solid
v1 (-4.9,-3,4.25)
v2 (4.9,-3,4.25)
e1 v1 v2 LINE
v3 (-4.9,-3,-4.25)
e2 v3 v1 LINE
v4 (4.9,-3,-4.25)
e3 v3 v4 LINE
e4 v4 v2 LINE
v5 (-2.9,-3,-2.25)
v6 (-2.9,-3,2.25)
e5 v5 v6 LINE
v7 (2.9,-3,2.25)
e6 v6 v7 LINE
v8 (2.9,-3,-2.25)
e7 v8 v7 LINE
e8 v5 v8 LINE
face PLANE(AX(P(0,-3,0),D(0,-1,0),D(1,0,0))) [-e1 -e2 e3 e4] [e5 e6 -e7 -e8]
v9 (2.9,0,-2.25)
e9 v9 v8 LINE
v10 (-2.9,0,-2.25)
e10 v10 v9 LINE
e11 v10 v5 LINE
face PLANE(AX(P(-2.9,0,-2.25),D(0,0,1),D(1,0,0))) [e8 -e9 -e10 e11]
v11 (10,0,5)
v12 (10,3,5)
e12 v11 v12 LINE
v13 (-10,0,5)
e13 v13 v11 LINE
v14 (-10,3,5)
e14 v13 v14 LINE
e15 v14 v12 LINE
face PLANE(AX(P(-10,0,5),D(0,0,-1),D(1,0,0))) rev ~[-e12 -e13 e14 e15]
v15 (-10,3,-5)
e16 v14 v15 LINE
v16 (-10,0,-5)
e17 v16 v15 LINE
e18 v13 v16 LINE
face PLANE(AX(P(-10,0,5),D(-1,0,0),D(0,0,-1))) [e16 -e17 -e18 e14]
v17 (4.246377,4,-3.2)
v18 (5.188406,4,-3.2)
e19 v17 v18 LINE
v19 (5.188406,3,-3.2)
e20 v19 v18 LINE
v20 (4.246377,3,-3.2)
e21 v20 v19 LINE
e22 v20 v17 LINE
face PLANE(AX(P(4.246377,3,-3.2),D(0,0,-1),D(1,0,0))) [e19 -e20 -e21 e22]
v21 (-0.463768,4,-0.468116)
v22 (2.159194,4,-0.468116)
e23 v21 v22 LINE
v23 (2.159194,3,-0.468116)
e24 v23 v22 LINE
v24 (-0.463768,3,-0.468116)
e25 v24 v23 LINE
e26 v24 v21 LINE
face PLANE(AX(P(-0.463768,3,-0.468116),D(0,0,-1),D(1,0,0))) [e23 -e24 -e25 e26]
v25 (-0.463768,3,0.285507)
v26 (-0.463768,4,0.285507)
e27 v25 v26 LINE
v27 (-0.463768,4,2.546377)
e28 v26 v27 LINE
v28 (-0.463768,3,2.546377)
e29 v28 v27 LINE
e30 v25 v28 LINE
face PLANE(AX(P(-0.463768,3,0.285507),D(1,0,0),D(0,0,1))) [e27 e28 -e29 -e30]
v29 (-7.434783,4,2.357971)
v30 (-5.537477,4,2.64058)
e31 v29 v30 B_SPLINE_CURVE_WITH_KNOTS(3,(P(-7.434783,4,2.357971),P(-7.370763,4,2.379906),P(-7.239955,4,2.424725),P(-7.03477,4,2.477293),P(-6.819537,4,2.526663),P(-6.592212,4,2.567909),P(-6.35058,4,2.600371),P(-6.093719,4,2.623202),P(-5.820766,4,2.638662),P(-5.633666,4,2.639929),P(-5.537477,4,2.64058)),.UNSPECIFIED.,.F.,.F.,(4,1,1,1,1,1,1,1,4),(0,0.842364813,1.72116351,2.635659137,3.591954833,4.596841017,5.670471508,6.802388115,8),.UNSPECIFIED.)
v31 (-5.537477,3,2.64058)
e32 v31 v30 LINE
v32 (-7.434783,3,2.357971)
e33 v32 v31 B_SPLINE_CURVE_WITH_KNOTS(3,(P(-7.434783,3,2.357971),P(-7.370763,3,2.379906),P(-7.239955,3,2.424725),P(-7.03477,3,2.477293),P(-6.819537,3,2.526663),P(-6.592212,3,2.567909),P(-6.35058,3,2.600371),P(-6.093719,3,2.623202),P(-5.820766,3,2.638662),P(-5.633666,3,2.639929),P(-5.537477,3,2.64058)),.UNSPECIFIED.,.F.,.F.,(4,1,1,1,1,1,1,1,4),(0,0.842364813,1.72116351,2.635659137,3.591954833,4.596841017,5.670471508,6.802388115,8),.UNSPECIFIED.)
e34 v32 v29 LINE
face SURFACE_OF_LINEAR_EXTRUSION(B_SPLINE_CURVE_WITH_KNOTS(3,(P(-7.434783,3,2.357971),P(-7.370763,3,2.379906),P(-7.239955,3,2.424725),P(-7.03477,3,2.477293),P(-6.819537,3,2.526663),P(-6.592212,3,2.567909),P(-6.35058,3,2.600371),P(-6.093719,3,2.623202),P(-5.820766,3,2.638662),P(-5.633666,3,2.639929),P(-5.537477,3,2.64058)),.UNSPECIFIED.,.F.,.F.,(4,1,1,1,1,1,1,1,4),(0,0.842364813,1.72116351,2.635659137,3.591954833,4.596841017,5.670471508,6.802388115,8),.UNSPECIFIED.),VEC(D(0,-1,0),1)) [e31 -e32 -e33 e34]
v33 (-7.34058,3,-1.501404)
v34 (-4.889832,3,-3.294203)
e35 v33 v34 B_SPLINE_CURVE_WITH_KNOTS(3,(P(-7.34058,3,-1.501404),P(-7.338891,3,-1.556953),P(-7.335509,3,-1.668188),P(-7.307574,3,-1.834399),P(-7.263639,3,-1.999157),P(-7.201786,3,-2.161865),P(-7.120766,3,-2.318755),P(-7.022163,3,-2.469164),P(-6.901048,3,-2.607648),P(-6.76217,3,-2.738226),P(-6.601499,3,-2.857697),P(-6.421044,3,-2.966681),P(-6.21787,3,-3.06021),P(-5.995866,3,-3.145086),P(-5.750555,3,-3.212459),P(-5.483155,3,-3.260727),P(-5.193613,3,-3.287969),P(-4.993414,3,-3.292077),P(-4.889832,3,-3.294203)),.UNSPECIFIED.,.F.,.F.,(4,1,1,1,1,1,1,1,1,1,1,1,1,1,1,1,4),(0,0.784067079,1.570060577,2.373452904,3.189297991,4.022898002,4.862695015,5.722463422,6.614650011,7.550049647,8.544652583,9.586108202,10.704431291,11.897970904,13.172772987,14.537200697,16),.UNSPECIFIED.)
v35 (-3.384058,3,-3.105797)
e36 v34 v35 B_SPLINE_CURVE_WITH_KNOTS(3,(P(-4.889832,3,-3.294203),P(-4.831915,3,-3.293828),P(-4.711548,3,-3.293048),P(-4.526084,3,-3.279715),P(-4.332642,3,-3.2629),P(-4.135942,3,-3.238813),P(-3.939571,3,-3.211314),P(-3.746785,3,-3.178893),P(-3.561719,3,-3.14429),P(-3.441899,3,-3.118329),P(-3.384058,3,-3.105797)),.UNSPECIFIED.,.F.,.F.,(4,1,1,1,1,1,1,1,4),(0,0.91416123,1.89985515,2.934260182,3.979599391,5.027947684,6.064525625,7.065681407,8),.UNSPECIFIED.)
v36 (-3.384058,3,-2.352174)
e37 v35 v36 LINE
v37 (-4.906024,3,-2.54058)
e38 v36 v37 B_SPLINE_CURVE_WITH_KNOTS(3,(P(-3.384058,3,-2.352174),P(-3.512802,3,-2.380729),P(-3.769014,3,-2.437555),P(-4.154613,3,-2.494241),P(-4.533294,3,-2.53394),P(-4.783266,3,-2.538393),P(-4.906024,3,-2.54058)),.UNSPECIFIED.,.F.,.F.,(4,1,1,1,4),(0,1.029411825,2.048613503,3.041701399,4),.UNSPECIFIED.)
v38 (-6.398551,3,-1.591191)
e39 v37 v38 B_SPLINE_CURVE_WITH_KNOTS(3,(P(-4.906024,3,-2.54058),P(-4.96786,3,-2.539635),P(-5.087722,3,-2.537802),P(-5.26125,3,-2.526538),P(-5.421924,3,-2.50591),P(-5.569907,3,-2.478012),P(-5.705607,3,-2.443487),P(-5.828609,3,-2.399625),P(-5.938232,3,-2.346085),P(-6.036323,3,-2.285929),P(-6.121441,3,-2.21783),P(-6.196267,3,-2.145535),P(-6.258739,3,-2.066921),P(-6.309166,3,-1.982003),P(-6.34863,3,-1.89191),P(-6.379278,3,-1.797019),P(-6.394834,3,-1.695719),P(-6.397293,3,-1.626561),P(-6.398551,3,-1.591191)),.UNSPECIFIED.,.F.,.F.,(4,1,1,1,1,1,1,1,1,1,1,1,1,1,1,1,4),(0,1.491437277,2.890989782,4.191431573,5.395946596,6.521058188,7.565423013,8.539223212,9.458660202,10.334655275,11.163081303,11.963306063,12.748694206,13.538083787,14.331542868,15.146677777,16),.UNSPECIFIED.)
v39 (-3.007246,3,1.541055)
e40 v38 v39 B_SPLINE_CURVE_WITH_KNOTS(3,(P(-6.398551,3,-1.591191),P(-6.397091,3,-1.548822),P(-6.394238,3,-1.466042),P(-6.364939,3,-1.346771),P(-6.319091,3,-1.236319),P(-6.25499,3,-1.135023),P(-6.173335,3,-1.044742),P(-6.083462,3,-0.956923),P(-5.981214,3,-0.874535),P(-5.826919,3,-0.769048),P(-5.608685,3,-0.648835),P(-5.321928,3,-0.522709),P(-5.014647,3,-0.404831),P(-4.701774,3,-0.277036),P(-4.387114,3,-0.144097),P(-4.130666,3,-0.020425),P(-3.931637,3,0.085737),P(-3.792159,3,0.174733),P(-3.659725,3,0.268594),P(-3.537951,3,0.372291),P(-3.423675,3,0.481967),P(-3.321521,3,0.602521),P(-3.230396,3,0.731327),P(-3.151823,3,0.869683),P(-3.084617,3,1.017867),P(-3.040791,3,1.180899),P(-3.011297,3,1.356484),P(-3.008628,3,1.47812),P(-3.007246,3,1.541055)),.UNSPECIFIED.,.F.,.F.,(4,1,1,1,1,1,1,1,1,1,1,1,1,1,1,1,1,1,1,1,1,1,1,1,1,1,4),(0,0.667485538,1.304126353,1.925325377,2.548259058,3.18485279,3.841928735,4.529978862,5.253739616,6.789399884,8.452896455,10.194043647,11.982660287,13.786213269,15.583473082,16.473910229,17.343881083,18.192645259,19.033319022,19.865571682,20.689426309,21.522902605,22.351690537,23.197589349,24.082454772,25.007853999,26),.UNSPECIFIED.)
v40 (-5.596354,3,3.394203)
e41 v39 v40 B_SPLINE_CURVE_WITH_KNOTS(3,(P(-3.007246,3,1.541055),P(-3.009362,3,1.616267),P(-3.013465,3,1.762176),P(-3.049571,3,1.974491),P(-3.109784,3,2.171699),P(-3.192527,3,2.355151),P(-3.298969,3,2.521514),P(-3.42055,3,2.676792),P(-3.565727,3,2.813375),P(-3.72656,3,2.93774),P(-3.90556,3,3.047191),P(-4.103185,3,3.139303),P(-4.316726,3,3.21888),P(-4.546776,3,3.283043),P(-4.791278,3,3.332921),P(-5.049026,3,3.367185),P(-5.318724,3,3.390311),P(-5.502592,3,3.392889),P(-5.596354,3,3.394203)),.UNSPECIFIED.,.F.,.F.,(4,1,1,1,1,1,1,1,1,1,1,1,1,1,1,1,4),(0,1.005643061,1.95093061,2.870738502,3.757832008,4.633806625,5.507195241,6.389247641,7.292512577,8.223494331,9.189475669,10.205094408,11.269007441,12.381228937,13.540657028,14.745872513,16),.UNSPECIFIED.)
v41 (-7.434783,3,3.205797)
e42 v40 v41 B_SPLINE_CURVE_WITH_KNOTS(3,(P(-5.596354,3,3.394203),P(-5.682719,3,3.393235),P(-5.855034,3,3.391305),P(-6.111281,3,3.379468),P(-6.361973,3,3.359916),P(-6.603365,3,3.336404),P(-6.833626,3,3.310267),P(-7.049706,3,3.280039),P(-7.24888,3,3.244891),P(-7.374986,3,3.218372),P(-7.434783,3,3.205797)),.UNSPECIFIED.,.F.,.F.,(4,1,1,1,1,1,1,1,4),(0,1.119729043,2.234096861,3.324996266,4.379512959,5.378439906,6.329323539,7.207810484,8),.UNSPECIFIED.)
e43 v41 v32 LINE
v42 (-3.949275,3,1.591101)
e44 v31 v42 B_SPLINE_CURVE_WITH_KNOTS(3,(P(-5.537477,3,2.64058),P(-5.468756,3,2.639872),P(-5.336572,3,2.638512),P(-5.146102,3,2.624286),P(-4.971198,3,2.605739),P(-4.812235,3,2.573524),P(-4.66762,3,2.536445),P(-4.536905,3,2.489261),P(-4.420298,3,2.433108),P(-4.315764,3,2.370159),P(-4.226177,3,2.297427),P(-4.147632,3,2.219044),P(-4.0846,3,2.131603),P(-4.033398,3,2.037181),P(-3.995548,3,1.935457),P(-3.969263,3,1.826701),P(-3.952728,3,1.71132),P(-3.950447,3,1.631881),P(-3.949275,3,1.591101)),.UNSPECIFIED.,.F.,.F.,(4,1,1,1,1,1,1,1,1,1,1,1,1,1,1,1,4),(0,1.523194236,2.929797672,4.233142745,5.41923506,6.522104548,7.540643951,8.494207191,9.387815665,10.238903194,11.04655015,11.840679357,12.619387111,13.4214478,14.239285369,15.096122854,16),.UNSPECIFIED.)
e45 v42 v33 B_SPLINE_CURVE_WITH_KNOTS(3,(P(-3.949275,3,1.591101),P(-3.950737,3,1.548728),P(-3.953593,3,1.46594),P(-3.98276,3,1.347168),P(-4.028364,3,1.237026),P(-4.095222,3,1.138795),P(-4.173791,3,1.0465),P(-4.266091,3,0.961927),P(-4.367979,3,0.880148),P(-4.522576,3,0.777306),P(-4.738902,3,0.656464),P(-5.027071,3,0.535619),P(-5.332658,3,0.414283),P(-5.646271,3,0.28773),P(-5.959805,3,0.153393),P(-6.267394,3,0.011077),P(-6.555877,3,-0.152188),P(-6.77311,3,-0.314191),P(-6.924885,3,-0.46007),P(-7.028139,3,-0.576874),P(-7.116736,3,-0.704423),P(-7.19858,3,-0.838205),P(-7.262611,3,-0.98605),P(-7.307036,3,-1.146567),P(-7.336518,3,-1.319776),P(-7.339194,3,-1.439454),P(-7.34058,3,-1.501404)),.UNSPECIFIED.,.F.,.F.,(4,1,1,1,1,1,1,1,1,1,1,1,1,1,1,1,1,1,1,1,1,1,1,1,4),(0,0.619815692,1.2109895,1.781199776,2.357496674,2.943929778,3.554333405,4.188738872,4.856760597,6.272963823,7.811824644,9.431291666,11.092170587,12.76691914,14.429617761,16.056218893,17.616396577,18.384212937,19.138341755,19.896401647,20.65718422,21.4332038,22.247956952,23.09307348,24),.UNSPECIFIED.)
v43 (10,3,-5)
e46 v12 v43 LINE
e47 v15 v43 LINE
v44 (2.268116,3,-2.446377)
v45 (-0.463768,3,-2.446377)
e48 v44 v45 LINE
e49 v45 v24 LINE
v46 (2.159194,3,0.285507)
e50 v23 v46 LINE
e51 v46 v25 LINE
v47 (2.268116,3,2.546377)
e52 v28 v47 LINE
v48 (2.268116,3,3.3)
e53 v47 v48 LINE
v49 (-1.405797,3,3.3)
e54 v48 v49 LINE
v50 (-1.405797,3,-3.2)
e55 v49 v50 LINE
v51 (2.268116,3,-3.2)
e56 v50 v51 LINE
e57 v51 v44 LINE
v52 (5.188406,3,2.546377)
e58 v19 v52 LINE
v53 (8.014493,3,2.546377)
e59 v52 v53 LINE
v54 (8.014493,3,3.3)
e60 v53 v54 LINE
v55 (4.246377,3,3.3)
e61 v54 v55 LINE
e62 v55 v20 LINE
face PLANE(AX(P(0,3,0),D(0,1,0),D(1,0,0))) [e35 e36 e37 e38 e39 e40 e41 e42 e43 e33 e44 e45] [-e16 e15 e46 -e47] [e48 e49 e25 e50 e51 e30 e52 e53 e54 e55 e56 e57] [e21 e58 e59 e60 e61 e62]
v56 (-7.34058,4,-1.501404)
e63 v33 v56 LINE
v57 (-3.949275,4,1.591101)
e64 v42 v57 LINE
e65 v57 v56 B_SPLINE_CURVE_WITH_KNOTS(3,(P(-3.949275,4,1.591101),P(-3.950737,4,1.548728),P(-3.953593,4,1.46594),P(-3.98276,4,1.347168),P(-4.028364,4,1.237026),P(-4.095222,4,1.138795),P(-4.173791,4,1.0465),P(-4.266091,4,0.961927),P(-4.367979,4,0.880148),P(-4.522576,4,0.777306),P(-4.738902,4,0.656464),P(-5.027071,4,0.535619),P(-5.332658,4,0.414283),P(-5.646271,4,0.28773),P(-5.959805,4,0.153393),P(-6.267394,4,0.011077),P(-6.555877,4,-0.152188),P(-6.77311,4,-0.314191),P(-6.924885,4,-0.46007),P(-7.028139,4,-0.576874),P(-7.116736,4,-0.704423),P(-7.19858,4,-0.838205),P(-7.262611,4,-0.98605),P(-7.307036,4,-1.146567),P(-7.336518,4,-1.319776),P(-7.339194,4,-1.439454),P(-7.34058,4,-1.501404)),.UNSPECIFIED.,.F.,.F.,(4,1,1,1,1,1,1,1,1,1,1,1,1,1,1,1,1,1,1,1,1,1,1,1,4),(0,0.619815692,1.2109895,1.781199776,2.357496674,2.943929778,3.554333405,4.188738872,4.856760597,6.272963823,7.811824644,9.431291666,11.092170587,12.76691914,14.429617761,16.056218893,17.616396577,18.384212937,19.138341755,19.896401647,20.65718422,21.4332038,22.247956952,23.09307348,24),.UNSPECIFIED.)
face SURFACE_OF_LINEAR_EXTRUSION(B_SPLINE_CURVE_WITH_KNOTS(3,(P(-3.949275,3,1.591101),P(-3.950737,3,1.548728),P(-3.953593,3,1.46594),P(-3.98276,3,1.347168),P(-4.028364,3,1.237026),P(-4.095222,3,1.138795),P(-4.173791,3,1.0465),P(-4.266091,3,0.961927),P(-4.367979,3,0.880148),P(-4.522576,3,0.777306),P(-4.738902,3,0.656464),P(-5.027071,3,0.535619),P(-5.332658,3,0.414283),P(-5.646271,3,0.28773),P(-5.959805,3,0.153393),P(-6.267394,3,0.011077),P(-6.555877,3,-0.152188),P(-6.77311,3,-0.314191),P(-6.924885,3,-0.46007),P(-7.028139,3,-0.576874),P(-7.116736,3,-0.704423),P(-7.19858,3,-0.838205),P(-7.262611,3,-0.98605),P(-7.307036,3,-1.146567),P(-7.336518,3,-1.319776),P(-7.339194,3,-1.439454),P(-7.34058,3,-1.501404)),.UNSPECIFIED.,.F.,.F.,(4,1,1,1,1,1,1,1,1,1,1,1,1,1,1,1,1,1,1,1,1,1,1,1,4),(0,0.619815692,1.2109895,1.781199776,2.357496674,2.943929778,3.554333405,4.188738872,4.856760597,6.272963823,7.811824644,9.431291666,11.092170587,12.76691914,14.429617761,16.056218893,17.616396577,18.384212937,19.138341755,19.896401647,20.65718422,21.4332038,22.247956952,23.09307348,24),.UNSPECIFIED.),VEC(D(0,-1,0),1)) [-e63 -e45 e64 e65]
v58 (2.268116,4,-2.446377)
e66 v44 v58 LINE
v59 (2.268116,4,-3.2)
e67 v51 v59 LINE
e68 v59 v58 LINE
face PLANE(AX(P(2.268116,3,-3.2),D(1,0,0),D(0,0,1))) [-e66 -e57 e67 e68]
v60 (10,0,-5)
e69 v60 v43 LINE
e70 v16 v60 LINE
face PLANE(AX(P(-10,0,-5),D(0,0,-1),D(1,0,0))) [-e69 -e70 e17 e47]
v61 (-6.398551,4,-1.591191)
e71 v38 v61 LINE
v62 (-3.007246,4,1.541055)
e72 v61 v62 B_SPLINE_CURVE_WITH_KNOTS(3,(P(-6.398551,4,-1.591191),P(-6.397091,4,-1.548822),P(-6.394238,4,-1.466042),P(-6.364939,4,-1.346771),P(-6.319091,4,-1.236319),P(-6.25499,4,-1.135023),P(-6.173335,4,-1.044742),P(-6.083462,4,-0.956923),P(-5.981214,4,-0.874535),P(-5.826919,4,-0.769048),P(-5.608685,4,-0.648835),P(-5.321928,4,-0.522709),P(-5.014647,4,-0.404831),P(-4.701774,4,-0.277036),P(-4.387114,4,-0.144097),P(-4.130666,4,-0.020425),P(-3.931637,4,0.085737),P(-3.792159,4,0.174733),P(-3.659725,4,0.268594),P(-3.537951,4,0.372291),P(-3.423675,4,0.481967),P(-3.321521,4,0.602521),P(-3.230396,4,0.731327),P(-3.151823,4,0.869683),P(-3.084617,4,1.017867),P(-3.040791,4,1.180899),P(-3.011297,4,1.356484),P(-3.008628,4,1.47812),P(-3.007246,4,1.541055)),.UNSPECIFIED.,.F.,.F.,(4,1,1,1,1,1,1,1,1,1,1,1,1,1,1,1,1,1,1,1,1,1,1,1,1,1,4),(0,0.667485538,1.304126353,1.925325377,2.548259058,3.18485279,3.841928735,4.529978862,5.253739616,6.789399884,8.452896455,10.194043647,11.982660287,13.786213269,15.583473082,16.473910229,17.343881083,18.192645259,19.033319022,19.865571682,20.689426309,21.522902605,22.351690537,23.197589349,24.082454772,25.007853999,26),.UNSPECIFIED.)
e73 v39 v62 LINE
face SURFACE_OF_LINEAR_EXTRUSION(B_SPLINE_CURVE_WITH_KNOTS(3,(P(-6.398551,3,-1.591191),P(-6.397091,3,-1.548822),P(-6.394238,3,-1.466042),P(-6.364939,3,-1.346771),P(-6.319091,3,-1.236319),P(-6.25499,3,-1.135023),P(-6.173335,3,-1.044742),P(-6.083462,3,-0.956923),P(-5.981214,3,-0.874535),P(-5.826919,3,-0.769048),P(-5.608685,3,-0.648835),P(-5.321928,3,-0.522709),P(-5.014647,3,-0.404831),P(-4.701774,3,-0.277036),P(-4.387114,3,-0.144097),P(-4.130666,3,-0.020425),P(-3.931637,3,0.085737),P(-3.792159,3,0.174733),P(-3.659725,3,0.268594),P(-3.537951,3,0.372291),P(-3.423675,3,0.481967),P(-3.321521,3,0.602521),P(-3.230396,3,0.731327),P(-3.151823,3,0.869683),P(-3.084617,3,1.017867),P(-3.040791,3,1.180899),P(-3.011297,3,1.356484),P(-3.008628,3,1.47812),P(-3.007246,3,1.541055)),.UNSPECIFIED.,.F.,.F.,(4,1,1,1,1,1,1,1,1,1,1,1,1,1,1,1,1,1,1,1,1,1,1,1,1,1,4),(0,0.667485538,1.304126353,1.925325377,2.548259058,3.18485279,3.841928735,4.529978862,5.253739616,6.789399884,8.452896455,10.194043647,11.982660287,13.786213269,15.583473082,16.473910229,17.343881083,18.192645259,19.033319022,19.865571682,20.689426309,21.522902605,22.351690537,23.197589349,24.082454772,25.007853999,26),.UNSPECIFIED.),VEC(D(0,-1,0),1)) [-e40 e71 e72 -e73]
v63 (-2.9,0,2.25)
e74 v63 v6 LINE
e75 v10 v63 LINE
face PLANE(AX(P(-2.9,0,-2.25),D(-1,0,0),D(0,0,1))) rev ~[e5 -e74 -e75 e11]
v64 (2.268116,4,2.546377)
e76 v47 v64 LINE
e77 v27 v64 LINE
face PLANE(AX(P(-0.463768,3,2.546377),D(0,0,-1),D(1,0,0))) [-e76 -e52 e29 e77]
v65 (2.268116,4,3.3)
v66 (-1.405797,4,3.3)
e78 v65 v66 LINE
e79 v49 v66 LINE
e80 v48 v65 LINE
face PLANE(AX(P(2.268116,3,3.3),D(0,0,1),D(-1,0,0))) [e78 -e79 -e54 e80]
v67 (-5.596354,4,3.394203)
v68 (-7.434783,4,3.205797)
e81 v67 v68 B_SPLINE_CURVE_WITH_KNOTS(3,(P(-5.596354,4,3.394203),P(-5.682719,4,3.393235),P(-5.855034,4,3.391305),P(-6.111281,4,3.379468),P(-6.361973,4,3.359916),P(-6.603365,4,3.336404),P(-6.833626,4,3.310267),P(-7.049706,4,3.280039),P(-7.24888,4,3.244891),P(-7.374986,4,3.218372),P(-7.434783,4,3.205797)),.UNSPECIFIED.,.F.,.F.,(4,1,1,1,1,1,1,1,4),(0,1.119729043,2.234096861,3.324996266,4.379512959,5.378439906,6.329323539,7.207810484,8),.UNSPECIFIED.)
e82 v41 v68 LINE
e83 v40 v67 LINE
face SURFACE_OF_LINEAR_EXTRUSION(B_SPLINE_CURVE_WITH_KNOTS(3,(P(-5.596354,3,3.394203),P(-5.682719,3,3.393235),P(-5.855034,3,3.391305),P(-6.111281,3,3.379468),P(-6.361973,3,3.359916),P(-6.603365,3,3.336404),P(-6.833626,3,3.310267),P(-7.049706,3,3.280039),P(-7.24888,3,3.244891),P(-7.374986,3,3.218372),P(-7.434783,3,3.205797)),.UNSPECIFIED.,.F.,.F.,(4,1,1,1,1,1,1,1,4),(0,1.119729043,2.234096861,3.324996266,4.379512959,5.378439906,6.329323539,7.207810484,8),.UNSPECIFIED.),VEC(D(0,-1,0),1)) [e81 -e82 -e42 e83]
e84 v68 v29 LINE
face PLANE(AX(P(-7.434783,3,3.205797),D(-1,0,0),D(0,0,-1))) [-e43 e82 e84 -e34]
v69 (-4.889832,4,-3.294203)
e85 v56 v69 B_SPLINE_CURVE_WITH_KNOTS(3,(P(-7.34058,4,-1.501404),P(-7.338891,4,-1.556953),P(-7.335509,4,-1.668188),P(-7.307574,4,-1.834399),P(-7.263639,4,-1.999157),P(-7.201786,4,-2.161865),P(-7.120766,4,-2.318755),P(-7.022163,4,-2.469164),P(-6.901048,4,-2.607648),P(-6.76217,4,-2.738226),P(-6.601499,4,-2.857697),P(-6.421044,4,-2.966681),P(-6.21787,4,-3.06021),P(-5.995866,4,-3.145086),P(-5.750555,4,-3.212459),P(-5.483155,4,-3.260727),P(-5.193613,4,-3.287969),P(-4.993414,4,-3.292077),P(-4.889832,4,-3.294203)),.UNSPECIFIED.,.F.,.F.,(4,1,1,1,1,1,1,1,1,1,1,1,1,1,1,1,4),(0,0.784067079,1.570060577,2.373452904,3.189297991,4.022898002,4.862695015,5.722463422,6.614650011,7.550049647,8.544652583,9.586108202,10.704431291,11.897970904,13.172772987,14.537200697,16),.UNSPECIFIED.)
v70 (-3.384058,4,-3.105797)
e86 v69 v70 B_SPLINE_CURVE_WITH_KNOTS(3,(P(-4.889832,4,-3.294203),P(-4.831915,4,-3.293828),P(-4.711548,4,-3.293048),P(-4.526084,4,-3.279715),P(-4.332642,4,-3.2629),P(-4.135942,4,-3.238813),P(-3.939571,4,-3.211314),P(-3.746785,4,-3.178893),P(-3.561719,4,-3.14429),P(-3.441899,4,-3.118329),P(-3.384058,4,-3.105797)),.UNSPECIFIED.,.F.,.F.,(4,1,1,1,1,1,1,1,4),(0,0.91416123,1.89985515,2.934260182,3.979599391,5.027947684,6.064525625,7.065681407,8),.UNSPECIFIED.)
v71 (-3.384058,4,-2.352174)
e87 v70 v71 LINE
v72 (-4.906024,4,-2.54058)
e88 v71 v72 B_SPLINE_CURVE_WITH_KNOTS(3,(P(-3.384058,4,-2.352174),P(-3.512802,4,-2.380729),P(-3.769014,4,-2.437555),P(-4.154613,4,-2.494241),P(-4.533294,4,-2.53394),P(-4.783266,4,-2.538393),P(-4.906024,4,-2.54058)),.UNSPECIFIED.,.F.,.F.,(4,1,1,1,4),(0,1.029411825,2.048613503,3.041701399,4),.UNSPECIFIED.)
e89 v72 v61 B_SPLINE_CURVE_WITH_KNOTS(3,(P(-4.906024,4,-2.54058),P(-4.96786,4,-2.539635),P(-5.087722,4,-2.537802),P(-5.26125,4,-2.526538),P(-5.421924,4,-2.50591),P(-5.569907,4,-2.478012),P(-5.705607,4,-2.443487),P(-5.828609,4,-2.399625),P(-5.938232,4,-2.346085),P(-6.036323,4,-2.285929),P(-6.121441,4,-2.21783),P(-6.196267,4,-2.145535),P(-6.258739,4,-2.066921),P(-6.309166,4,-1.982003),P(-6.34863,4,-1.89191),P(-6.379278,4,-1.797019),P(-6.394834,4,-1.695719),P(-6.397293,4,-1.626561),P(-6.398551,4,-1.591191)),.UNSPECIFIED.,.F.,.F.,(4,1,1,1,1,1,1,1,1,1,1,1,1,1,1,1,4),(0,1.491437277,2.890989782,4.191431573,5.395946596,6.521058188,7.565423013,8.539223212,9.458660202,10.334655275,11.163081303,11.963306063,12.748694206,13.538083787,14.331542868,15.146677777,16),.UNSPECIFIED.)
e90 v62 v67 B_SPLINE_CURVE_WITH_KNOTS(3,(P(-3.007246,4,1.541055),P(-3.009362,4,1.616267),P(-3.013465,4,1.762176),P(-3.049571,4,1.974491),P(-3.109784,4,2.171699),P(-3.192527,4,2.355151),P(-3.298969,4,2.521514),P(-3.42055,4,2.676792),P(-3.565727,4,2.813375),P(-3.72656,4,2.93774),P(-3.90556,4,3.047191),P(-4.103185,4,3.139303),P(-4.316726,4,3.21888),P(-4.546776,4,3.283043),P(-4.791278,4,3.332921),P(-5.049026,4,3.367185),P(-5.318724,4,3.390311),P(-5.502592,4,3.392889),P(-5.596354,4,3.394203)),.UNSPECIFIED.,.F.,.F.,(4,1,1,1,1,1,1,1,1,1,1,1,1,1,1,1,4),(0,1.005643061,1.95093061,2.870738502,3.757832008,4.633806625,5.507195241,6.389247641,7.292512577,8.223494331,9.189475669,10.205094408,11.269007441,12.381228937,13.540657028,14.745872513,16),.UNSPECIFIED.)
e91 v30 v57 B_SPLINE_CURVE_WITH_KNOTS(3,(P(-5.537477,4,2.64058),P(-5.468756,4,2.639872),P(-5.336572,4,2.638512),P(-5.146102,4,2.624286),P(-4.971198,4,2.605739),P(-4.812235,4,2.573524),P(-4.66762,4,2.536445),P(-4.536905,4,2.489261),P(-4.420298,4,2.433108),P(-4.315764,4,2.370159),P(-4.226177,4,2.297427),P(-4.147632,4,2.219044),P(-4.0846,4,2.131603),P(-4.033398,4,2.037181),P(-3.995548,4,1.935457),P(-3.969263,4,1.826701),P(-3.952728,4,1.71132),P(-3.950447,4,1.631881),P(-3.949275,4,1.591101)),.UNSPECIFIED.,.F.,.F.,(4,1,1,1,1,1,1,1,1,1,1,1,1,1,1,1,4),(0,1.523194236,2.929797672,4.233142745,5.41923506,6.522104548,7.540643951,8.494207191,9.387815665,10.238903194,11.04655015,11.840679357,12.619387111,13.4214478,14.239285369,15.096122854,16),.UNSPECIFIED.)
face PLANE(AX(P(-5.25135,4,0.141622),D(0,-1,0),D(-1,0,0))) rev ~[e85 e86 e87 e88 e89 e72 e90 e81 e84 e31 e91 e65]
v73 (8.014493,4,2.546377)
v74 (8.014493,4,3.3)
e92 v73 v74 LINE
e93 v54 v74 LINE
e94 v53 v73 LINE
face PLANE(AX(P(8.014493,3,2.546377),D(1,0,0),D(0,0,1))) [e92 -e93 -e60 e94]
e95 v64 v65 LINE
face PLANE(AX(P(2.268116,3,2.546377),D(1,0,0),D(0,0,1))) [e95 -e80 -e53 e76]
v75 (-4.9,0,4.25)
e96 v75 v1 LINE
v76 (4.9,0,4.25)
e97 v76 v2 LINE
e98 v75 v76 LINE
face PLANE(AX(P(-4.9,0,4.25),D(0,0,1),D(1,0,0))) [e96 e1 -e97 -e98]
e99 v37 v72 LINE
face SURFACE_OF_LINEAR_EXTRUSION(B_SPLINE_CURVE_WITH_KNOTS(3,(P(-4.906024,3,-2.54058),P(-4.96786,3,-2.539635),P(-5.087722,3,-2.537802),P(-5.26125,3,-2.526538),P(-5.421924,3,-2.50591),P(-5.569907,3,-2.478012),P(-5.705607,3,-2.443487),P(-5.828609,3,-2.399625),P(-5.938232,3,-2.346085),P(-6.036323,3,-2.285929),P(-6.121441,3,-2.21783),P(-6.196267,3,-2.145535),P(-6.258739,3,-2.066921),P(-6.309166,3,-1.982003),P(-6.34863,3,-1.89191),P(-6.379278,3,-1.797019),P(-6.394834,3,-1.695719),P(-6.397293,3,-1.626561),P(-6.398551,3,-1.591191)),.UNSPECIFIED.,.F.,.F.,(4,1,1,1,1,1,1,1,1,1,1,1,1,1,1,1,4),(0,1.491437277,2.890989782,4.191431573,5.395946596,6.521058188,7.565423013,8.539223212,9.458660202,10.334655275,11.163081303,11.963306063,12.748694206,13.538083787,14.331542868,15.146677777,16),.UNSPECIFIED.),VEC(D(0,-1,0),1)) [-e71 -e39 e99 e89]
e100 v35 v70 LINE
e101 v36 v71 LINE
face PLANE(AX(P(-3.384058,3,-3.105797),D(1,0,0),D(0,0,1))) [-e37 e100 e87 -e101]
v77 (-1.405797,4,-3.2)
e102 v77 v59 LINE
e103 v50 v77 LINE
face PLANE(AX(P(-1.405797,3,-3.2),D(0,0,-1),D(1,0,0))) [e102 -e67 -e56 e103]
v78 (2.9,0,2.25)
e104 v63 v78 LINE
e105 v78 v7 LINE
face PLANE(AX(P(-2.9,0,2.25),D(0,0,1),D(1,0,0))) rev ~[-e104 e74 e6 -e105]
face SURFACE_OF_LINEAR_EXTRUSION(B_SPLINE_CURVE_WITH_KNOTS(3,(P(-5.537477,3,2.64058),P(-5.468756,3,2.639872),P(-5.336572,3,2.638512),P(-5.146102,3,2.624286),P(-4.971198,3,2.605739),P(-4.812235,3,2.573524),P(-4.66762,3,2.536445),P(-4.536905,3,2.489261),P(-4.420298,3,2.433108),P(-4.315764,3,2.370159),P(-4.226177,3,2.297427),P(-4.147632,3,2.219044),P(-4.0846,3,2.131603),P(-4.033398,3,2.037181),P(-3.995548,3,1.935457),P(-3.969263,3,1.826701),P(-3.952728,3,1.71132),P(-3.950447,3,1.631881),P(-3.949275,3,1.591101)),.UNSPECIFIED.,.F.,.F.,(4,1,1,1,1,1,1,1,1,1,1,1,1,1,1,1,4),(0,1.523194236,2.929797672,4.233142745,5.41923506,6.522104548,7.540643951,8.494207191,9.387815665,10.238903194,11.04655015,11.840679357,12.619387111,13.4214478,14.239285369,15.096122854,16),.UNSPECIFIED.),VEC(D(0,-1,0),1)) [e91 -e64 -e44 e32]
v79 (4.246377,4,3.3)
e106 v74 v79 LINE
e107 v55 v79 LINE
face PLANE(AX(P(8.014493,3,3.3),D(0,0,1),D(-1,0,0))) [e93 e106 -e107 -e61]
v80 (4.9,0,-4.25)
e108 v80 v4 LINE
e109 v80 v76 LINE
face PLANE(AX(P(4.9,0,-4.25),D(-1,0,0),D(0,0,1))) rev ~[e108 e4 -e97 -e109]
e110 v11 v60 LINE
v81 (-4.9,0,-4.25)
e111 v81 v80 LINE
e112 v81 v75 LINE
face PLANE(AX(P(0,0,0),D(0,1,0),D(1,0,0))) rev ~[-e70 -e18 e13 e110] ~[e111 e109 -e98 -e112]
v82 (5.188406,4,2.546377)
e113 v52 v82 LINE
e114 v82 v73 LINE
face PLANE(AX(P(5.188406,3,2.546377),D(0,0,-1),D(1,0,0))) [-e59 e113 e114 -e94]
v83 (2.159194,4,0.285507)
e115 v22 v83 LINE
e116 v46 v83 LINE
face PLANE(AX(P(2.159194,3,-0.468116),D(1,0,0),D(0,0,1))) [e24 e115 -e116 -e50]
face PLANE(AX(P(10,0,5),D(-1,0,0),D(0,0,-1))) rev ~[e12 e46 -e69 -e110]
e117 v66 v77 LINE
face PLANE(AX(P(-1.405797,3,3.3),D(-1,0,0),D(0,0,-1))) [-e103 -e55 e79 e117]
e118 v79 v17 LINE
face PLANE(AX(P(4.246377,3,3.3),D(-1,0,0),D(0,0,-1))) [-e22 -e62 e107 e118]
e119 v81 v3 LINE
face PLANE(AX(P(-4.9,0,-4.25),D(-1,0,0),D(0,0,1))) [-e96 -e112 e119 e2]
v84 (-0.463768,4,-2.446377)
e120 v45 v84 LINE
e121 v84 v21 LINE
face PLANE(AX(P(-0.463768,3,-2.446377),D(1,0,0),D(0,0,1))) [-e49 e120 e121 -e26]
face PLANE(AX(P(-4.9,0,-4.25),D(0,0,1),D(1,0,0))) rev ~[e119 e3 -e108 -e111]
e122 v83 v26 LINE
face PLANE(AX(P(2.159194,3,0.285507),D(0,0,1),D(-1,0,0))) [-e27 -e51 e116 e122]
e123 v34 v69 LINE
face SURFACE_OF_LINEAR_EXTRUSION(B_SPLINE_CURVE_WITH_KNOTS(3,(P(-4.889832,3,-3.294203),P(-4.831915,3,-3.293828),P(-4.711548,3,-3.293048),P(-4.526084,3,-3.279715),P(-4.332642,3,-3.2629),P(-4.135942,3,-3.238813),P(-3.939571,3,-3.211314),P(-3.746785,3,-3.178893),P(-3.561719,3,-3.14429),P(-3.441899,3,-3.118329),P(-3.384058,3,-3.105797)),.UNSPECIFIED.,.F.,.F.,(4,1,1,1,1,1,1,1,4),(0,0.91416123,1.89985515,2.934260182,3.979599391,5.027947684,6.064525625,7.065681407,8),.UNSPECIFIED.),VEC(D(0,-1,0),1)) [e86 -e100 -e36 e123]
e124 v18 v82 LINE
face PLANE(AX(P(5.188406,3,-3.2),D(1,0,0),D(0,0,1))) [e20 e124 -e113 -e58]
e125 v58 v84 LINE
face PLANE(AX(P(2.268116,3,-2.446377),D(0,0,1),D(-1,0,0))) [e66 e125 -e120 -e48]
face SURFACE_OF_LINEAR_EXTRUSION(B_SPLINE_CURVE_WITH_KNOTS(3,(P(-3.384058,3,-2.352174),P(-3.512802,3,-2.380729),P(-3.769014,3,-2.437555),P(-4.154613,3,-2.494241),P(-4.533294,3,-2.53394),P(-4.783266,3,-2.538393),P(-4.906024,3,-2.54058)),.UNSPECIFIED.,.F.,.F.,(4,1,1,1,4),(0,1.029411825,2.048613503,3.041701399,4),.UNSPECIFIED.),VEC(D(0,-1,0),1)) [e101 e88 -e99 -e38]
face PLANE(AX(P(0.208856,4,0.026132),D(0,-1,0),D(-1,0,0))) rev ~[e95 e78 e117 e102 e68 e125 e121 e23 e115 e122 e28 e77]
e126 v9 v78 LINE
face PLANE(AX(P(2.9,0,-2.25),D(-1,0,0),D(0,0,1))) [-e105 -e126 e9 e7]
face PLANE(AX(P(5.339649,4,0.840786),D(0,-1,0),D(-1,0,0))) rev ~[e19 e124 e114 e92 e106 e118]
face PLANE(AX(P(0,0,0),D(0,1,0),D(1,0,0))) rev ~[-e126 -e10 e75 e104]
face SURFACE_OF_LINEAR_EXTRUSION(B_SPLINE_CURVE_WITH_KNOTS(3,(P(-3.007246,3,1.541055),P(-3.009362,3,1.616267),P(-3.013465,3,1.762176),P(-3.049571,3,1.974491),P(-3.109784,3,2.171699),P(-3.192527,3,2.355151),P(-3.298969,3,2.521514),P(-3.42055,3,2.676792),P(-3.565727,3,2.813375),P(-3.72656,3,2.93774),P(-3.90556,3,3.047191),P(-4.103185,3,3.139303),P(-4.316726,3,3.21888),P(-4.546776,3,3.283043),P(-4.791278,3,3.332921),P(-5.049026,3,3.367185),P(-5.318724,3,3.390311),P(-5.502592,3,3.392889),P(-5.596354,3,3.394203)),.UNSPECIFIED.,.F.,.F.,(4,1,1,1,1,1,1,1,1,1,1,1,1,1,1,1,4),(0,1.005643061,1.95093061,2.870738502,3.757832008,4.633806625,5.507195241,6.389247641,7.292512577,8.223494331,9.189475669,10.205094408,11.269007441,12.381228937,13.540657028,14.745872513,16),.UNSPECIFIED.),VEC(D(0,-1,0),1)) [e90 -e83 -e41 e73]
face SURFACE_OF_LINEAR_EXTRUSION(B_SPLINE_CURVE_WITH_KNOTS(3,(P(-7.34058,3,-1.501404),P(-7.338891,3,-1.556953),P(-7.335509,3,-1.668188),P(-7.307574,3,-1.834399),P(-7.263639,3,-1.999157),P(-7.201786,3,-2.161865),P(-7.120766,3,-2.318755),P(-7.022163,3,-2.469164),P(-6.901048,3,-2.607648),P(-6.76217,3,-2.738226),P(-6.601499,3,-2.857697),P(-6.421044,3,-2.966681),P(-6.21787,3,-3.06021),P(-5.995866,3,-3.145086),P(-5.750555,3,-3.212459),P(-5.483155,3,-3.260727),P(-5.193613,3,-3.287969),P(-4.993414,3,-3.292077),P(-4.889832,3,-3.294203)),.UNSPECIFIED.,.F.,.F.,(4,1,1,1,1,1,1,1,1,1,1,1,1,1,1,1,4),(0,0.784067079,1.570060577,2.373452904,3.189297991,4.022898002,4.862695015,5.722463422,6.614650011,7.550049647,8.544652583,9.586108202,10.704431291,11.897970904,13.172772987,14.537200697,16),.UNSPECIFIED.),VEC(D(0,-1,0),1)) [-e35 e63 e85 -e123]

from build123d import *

# Parameters (mm, degrees)
SKETCH1_W           = 20
SKETCH1_H           = 10
BOSS_EXTRUDE1_DEPTH = 3
SKETCH2_W           = 9.8
SKETCH2_H           = 8.5
SKETCH2_W_2         = 5.8
SKETCH2_H_2         = 4.5
BOSS_EXTRUDE2_DEPTH = 3
BOSS_EXTRUDE3_DEPTH = 1


with BuildPart() as part:
    # Sketch1 → Boss-Extrude1 (new body)
    with BuildSketch(Plane(origin=(0, 0, 0), x_dir=(1, 0, 0), z_dir=(0, 1, 0))):
        Rectangle(SKETCH1_W, SKETCH1_H)
    extrude(amount=BOSS_EXTRUDE1_DEPTH)

    # Sketch2 → Boss-Extrude2 (add)
    with BuildSketch(Plane.XZ):
        Rectangle(SKETCH2_W, SKETCH2_H)
        Rectangle(SKETCH2_W_2, SKETCH2_H_2, mode=Mode.SUBTRACT)
    extrude(amount=BOSS_EXTRUDE2_DEPTH)

    # Sketch3 → Boss-Extrude3 (add)
    with BuildSketch(Plane(origin=(0, 3, 0), x_dir=(1, 0, 0), z_dir=(0, 1, 0))):
        with BuildLine():
            add(Edge.make_bspline(
                [(-3.007246377, -1.541055254), (-3.009361723, -1.616266832), (-3.01346546, -1.762176027), (-3.049571221, -1.974490768), (-3.109784234, -2.171698983), (-3.192526507, -2.355150602), (-3.298968583, -2.521513857), (-3.420549524, -2.676791882), (-3.565727351, -2.813375097), (-3.726560117, -2.937740496), (-3.905559946, -3.047190671), (-4.103184871, -3.139302997), (-4.316725708, -3.21887973), (-4.54677574, -3.283042654), (-4.79127798, -3.332920655), (-5.049025563, -3.367185197), (-5.318723514, -3.390311379), (-5.502591678, -3.39288864), (-5.596354167, -3.394202899)],
                knots=[0, 0, 0, 0, 1.005643061, 1.95093061, 2.870738502, 3.757832008, 4.633806625, 5.507195241, 6.389247641, 7.292512577, 8.223494331, 9.189475669, 10.205094408, 11.269007441, 12.381228937, 13.540657028, 14.745872513, 16, 16, 16, 16], degree=3))
            add(Edge.make_bspline(
                [(-5.596354167, -3.394202899), (-5.682718588, -3.393235229), (-5.855033921, -3.391304522), (-6.111280949, -3.379468444), (-6.361973178, -3.359915664), (-6.603364511, -3.33640358), (-6.833625513, -3.310266833), (-7.049705719, -3.280039115), (-7.248879542, -3.244891381), (-7.374986232, -3.218371914), (-7.434782609, -3.205797101)],
                knots=[0, 0, 0, 0, 1.119729043, 2.234096861, 3.324996266, 4.379512959, 5.378439906, 6.329323539, 7.207810484, 8, 8, 8, 8], degree=3))
            Line((-7.434782609, -3.205797101), (-7.434782609, -2.357971014))
            add(Edge.make_bspline(
                [(-7.434782609, -2.357971014), (-7.370762942, -2.379906097), (-7.239954637, -2.424724996), (-7.034769621, -2.477293495), (-6.819537264, -2.526663443), (-6.592212353, -2.567908961), (-6.350580188, -2.600371202), (-6.09371887, -2.623201503), (-5.82076552, -2.638661997), (-5.633665552, -2.639928566), (-5.537477355, -2.64057971)],
                knots=[0, 0, 0, 0, 0.842364813, 1.72116351, 2.635659137, 3.591954833, 4.596841017, 5.670471508, 6.802388115, 8, 8, 8, 8], degree=3))
            add(Edge.make_bspline(
                [(-5.537477355, -2.64057971), (-5.468755519, -2.639872283), (-5.336572064, -2.638511576), (-5.146102436, -2.624285716), (-4.971197978, -2.605738792), (-4.812235473, -2.573524326), (-4.66761954, -2.536445211), (-4.53690496, -2.489260746), (-4.420297965, -2.43310849), (-4.315764365, -2.370159285), (-4.226176786, -2.297427118), (-4.14763217, -2.219043718), (-4.08459987, -2.131603251), (-4.033398257, -2.037180835), (-3.995547608, -1.93545715), (-3.969262703, -1.826700795), (-3.952727851, -1.711319689), (-3.950446508, -1.631881026), (-3.949275362, -1.591100543)],
                knots=[0, 0, 0, 0, 1.523194236, 2.929797672, 4.233142745, 5.41923506, 6.522104548, 7.540643951, 8.494207191, 9.387815665, 10.238903194, 11.04655015, 11.840679357, 12.619387111, 13.4214478, 14.239285369, 15.096122854, 16, 16, 16, 16], degree=3))
            add(Edge.make_bspline(
                [(-3.949275362, -1.591100543), (-3.950736926, -1.548727509), (-3.953592513, -1.465939512), (-3.982760391, -1.347167725), (-4.028364162, -1.237025632), (-4.095221609, -1.138795344), (-4.173790678, -1.046499637), (-4.266091432, -0.961927422), (-4.367978541, -0.880147855), (-4.522576355, -0.777306411), (-4.738901588, -0.6564636), (-5.027071288, -0.535618888), (-5.332657608, -0.414283489), (-5.646271299, -0.28773006), (-5.959805031, -0.153393094), (-6.267393971, -0.011077429), (-6.555877209, 0.152188183), (-6.773110218, 0.314191425), (-6.924884877, 0.460070087), (-7.028139342, 0.576873874), (-7.116736104, 0.704422635), (-7.19857963, 0.83820536), (-7.26261074, 0.986049766), (-7.307035659, 1.146566576), (-7.336517595, 1.31977591), (-7.339194196, 1.439453928), (-7.34057971, 1.501403986)],
                knots=[0, 0, 0, 0, 0.619815692, 1.2109895, 1.781199776, 2.357496674, 2.943929778, 3.554333405, 4.188738872, 4.856760597, 6.272963823, 7.811824644, 9.431291666, 11.092170587, 12.76691914, 14.429617761, 16.056218893, 17.616396577, 18.384212937, 19.138341755, 19.896401647, 20.65718422, 21.4332038, 22.247956952, 23.09307348, 24, 24, 24, 24], degree=3))
            add(Edge.make_bspline(
                [(-7.34057971, 1.501403986), (-7.338890921, 1.55695311), (-7.335509193, 1.668187842), (-7.30757402, 1.834398802), (-7.263639098, 1.99915748), (-7.201785927, 2.161864622), (-7.120766105, 2.318754545), (-7.022162869, 2.469164015), (-6.90104822, 2.607647577), (-6.762169614, 2.738226423), (-6.601498999, 2.857697029), (-6.421044497, 2.966681175), (-6.217870333, 3.06021036), (-5.995865777, 3.145085669), (-5.75055523, 3.212458991), (-5.483154955, 3.260726864), (-5.193612621, 3.28796892), (-4.993414416, 3.292077257), (-4.889832428, 3.294202899)],
                knots=[0, 0, 0, 0, 0.784067079, 1.570060577, 2.373452904, 3.189297991, 4.022898002, 4.862695015, 5.722463422, 6.614650011, 7.550049647, 8.544652583, 9.586108202, 10.704431291, 11.897970904, 13.172772987, 14.537200697, 16, 16, 16, 16], degree=3))
            add(Edge.make_bspline(
                [(-4.889832428, 3.294202899), (-4.831915002, 3.293827656), (-4.71154814, 3.293047807), (-4.526083854, 3.279715221), (-4.332642127, 3.262900288), (-4.135942453, 3.23881275), (-3.939571378, 3.211313867), (-3.746785439, 3.17889299), (-3.561719244, 3.144290109), (-3.441899158, 3.118329271), (-3.384057971, 3.105797101)],
                knots=[0, 0, 0, 0, 0.91416123, 1.89985515, 2.934260182, 3.979599391, 5.027947684, 6.064525625, 7.065681407, 8, 8, 8, 8], degree=3))
            Line((-3.384057971, 3.105797101), (-3.384057971, 2.352173913))
            add(Edge.make_bspline(
                [(-3.384057971, 2.352173913), (-3.512802353, 2.380728564), (-3.769014174, 2.437554648), (-4.154613263, 2.494241446), (-4.53329374, 2.533940296), (-4.78326578, 2.538393033), (-4.906023551, 2.54057971)],
                knots=[0, 0, 0, 0, 1.029411825, 2.048613503, 3.041701399, 4, 4, 4, 4], degree=3))
            add(Edge.make_bspline(
                [(-4.906023551, 2.54057971), (-4.96785961, 2.539634528), (-5.087722119, 2.537802395), (-5.261250093, 2.526537867), (-5.421923855, 2.50591041), (-5.569906649, 2.478011851), (-5.705607433, 2.443486967), (-5.828608574, 2.399624608), (-5.938232428, 2.346084815), (-6.036323458, 2.285929472), (-6.121441499, 2.217830494), (-6.196267253, 2.145534626), (-6.25873862, 2.066920743), (-6.309166265, 1.982002857), (-6.348629922, 1.891910001), (-6.379278296, 1.797018907), (-6.39483351, 1.695718813), (-6.39729289, 1.626561307), (-6.398550725, 1.591191123)],
                knots=[0, 0, 0, 0, 1.491437277, 2.890989782, 4.191431573, 5.395946596, 6.521058188, 7.565423013, 8.539223212, 9.458660202, 10.334655275, 11.163081303, 11.963306063, 12.748694206, 13.538083787, 14.331542868, 15.146677777, 16, 16, 16, 16], degree=3))
            add(Edge.make_bspline(
                [(-6.398550725, 1.591191123), (-6.397090804, 1.54882223), (-6.394238428, 1.466042324), (-6.364939026, 1.346770736), (-6.319091437, 1.236318933), (-6.254990308, 1.135022601), (-6.173334725, 1.044741827), (-6.083461638, 0.956922737), (-5.981213723, 0.874535374), (-5.826918921, 0.769047924), (-5.608685055, 0.648834692), (-5.321927803, 0.522708732), (-5.01464681, 0.404830914), (-4.701773525, 0.277036411), (-4.387114081, 0.144096978), (-4.130666417, 0.020425333), (-3.931637116, -0.085736683), (-3.792159425, -0.174732598), (-3.659724913, -0.268594319), (-3.537951241, -0.372291237), (-3.423674946, -0.481967024), (-3.321521117, -0.602520833), (-3.230395949, -0.731327418), (-3.151822879, -0.869682551), (-3.084616777, -1.017867369), (-3.040791314, -1.18089857), (-3.011296839, -1.356483959), (-3.008627503, -1.478120166), (-3.007246377, -1.541055254)],
                knots=[0, 0, 0, 0, 0.667485538, 1.304126353, 1.925325377, 2.548259058, 3.18485279, 3.841928735, 4.529978862, 5.253739616, 6.789399884, 8.452896455, 10.194043647, 11.982660287, 13.786213269, 15.583473082, 16.473910229, 17.343881083, 18.192645259, 19.033319022, 19.865571682, 20.689426309, 21.522902605, 22.351690537, 23.197589349, 24.082454772, 25.007853999, 26, 26, 26, 26], degree=3))
        make_face()
        Polygon((2.268115942, -3.3), (-1.405797101, -3.3), (-1.405797101, 3.2), (2.268115942, 3.2), (2.268115942, 2.446376812), (-0.463768116, 2.446376812), (-0.463768116, 0.468115942), (2.159193841, 0.468115942), (2.159193841, -0.285507246), (-0.463768116, -0.285507246), (-0.463768116, -2.546376812), (2.268115942, -2.546376812), align=None)
        Polygon((8.014492754, -3.3), (4.246376812, -3.3), (4.246376812, 3.2), (5.188405797, 3.2), (5.188405797, -2.546376812), (8.014492754, -2.546376812), align=None)
    extrude(amount=BOSS_EXTRUDE3_DEPTH)


solid = part.part
